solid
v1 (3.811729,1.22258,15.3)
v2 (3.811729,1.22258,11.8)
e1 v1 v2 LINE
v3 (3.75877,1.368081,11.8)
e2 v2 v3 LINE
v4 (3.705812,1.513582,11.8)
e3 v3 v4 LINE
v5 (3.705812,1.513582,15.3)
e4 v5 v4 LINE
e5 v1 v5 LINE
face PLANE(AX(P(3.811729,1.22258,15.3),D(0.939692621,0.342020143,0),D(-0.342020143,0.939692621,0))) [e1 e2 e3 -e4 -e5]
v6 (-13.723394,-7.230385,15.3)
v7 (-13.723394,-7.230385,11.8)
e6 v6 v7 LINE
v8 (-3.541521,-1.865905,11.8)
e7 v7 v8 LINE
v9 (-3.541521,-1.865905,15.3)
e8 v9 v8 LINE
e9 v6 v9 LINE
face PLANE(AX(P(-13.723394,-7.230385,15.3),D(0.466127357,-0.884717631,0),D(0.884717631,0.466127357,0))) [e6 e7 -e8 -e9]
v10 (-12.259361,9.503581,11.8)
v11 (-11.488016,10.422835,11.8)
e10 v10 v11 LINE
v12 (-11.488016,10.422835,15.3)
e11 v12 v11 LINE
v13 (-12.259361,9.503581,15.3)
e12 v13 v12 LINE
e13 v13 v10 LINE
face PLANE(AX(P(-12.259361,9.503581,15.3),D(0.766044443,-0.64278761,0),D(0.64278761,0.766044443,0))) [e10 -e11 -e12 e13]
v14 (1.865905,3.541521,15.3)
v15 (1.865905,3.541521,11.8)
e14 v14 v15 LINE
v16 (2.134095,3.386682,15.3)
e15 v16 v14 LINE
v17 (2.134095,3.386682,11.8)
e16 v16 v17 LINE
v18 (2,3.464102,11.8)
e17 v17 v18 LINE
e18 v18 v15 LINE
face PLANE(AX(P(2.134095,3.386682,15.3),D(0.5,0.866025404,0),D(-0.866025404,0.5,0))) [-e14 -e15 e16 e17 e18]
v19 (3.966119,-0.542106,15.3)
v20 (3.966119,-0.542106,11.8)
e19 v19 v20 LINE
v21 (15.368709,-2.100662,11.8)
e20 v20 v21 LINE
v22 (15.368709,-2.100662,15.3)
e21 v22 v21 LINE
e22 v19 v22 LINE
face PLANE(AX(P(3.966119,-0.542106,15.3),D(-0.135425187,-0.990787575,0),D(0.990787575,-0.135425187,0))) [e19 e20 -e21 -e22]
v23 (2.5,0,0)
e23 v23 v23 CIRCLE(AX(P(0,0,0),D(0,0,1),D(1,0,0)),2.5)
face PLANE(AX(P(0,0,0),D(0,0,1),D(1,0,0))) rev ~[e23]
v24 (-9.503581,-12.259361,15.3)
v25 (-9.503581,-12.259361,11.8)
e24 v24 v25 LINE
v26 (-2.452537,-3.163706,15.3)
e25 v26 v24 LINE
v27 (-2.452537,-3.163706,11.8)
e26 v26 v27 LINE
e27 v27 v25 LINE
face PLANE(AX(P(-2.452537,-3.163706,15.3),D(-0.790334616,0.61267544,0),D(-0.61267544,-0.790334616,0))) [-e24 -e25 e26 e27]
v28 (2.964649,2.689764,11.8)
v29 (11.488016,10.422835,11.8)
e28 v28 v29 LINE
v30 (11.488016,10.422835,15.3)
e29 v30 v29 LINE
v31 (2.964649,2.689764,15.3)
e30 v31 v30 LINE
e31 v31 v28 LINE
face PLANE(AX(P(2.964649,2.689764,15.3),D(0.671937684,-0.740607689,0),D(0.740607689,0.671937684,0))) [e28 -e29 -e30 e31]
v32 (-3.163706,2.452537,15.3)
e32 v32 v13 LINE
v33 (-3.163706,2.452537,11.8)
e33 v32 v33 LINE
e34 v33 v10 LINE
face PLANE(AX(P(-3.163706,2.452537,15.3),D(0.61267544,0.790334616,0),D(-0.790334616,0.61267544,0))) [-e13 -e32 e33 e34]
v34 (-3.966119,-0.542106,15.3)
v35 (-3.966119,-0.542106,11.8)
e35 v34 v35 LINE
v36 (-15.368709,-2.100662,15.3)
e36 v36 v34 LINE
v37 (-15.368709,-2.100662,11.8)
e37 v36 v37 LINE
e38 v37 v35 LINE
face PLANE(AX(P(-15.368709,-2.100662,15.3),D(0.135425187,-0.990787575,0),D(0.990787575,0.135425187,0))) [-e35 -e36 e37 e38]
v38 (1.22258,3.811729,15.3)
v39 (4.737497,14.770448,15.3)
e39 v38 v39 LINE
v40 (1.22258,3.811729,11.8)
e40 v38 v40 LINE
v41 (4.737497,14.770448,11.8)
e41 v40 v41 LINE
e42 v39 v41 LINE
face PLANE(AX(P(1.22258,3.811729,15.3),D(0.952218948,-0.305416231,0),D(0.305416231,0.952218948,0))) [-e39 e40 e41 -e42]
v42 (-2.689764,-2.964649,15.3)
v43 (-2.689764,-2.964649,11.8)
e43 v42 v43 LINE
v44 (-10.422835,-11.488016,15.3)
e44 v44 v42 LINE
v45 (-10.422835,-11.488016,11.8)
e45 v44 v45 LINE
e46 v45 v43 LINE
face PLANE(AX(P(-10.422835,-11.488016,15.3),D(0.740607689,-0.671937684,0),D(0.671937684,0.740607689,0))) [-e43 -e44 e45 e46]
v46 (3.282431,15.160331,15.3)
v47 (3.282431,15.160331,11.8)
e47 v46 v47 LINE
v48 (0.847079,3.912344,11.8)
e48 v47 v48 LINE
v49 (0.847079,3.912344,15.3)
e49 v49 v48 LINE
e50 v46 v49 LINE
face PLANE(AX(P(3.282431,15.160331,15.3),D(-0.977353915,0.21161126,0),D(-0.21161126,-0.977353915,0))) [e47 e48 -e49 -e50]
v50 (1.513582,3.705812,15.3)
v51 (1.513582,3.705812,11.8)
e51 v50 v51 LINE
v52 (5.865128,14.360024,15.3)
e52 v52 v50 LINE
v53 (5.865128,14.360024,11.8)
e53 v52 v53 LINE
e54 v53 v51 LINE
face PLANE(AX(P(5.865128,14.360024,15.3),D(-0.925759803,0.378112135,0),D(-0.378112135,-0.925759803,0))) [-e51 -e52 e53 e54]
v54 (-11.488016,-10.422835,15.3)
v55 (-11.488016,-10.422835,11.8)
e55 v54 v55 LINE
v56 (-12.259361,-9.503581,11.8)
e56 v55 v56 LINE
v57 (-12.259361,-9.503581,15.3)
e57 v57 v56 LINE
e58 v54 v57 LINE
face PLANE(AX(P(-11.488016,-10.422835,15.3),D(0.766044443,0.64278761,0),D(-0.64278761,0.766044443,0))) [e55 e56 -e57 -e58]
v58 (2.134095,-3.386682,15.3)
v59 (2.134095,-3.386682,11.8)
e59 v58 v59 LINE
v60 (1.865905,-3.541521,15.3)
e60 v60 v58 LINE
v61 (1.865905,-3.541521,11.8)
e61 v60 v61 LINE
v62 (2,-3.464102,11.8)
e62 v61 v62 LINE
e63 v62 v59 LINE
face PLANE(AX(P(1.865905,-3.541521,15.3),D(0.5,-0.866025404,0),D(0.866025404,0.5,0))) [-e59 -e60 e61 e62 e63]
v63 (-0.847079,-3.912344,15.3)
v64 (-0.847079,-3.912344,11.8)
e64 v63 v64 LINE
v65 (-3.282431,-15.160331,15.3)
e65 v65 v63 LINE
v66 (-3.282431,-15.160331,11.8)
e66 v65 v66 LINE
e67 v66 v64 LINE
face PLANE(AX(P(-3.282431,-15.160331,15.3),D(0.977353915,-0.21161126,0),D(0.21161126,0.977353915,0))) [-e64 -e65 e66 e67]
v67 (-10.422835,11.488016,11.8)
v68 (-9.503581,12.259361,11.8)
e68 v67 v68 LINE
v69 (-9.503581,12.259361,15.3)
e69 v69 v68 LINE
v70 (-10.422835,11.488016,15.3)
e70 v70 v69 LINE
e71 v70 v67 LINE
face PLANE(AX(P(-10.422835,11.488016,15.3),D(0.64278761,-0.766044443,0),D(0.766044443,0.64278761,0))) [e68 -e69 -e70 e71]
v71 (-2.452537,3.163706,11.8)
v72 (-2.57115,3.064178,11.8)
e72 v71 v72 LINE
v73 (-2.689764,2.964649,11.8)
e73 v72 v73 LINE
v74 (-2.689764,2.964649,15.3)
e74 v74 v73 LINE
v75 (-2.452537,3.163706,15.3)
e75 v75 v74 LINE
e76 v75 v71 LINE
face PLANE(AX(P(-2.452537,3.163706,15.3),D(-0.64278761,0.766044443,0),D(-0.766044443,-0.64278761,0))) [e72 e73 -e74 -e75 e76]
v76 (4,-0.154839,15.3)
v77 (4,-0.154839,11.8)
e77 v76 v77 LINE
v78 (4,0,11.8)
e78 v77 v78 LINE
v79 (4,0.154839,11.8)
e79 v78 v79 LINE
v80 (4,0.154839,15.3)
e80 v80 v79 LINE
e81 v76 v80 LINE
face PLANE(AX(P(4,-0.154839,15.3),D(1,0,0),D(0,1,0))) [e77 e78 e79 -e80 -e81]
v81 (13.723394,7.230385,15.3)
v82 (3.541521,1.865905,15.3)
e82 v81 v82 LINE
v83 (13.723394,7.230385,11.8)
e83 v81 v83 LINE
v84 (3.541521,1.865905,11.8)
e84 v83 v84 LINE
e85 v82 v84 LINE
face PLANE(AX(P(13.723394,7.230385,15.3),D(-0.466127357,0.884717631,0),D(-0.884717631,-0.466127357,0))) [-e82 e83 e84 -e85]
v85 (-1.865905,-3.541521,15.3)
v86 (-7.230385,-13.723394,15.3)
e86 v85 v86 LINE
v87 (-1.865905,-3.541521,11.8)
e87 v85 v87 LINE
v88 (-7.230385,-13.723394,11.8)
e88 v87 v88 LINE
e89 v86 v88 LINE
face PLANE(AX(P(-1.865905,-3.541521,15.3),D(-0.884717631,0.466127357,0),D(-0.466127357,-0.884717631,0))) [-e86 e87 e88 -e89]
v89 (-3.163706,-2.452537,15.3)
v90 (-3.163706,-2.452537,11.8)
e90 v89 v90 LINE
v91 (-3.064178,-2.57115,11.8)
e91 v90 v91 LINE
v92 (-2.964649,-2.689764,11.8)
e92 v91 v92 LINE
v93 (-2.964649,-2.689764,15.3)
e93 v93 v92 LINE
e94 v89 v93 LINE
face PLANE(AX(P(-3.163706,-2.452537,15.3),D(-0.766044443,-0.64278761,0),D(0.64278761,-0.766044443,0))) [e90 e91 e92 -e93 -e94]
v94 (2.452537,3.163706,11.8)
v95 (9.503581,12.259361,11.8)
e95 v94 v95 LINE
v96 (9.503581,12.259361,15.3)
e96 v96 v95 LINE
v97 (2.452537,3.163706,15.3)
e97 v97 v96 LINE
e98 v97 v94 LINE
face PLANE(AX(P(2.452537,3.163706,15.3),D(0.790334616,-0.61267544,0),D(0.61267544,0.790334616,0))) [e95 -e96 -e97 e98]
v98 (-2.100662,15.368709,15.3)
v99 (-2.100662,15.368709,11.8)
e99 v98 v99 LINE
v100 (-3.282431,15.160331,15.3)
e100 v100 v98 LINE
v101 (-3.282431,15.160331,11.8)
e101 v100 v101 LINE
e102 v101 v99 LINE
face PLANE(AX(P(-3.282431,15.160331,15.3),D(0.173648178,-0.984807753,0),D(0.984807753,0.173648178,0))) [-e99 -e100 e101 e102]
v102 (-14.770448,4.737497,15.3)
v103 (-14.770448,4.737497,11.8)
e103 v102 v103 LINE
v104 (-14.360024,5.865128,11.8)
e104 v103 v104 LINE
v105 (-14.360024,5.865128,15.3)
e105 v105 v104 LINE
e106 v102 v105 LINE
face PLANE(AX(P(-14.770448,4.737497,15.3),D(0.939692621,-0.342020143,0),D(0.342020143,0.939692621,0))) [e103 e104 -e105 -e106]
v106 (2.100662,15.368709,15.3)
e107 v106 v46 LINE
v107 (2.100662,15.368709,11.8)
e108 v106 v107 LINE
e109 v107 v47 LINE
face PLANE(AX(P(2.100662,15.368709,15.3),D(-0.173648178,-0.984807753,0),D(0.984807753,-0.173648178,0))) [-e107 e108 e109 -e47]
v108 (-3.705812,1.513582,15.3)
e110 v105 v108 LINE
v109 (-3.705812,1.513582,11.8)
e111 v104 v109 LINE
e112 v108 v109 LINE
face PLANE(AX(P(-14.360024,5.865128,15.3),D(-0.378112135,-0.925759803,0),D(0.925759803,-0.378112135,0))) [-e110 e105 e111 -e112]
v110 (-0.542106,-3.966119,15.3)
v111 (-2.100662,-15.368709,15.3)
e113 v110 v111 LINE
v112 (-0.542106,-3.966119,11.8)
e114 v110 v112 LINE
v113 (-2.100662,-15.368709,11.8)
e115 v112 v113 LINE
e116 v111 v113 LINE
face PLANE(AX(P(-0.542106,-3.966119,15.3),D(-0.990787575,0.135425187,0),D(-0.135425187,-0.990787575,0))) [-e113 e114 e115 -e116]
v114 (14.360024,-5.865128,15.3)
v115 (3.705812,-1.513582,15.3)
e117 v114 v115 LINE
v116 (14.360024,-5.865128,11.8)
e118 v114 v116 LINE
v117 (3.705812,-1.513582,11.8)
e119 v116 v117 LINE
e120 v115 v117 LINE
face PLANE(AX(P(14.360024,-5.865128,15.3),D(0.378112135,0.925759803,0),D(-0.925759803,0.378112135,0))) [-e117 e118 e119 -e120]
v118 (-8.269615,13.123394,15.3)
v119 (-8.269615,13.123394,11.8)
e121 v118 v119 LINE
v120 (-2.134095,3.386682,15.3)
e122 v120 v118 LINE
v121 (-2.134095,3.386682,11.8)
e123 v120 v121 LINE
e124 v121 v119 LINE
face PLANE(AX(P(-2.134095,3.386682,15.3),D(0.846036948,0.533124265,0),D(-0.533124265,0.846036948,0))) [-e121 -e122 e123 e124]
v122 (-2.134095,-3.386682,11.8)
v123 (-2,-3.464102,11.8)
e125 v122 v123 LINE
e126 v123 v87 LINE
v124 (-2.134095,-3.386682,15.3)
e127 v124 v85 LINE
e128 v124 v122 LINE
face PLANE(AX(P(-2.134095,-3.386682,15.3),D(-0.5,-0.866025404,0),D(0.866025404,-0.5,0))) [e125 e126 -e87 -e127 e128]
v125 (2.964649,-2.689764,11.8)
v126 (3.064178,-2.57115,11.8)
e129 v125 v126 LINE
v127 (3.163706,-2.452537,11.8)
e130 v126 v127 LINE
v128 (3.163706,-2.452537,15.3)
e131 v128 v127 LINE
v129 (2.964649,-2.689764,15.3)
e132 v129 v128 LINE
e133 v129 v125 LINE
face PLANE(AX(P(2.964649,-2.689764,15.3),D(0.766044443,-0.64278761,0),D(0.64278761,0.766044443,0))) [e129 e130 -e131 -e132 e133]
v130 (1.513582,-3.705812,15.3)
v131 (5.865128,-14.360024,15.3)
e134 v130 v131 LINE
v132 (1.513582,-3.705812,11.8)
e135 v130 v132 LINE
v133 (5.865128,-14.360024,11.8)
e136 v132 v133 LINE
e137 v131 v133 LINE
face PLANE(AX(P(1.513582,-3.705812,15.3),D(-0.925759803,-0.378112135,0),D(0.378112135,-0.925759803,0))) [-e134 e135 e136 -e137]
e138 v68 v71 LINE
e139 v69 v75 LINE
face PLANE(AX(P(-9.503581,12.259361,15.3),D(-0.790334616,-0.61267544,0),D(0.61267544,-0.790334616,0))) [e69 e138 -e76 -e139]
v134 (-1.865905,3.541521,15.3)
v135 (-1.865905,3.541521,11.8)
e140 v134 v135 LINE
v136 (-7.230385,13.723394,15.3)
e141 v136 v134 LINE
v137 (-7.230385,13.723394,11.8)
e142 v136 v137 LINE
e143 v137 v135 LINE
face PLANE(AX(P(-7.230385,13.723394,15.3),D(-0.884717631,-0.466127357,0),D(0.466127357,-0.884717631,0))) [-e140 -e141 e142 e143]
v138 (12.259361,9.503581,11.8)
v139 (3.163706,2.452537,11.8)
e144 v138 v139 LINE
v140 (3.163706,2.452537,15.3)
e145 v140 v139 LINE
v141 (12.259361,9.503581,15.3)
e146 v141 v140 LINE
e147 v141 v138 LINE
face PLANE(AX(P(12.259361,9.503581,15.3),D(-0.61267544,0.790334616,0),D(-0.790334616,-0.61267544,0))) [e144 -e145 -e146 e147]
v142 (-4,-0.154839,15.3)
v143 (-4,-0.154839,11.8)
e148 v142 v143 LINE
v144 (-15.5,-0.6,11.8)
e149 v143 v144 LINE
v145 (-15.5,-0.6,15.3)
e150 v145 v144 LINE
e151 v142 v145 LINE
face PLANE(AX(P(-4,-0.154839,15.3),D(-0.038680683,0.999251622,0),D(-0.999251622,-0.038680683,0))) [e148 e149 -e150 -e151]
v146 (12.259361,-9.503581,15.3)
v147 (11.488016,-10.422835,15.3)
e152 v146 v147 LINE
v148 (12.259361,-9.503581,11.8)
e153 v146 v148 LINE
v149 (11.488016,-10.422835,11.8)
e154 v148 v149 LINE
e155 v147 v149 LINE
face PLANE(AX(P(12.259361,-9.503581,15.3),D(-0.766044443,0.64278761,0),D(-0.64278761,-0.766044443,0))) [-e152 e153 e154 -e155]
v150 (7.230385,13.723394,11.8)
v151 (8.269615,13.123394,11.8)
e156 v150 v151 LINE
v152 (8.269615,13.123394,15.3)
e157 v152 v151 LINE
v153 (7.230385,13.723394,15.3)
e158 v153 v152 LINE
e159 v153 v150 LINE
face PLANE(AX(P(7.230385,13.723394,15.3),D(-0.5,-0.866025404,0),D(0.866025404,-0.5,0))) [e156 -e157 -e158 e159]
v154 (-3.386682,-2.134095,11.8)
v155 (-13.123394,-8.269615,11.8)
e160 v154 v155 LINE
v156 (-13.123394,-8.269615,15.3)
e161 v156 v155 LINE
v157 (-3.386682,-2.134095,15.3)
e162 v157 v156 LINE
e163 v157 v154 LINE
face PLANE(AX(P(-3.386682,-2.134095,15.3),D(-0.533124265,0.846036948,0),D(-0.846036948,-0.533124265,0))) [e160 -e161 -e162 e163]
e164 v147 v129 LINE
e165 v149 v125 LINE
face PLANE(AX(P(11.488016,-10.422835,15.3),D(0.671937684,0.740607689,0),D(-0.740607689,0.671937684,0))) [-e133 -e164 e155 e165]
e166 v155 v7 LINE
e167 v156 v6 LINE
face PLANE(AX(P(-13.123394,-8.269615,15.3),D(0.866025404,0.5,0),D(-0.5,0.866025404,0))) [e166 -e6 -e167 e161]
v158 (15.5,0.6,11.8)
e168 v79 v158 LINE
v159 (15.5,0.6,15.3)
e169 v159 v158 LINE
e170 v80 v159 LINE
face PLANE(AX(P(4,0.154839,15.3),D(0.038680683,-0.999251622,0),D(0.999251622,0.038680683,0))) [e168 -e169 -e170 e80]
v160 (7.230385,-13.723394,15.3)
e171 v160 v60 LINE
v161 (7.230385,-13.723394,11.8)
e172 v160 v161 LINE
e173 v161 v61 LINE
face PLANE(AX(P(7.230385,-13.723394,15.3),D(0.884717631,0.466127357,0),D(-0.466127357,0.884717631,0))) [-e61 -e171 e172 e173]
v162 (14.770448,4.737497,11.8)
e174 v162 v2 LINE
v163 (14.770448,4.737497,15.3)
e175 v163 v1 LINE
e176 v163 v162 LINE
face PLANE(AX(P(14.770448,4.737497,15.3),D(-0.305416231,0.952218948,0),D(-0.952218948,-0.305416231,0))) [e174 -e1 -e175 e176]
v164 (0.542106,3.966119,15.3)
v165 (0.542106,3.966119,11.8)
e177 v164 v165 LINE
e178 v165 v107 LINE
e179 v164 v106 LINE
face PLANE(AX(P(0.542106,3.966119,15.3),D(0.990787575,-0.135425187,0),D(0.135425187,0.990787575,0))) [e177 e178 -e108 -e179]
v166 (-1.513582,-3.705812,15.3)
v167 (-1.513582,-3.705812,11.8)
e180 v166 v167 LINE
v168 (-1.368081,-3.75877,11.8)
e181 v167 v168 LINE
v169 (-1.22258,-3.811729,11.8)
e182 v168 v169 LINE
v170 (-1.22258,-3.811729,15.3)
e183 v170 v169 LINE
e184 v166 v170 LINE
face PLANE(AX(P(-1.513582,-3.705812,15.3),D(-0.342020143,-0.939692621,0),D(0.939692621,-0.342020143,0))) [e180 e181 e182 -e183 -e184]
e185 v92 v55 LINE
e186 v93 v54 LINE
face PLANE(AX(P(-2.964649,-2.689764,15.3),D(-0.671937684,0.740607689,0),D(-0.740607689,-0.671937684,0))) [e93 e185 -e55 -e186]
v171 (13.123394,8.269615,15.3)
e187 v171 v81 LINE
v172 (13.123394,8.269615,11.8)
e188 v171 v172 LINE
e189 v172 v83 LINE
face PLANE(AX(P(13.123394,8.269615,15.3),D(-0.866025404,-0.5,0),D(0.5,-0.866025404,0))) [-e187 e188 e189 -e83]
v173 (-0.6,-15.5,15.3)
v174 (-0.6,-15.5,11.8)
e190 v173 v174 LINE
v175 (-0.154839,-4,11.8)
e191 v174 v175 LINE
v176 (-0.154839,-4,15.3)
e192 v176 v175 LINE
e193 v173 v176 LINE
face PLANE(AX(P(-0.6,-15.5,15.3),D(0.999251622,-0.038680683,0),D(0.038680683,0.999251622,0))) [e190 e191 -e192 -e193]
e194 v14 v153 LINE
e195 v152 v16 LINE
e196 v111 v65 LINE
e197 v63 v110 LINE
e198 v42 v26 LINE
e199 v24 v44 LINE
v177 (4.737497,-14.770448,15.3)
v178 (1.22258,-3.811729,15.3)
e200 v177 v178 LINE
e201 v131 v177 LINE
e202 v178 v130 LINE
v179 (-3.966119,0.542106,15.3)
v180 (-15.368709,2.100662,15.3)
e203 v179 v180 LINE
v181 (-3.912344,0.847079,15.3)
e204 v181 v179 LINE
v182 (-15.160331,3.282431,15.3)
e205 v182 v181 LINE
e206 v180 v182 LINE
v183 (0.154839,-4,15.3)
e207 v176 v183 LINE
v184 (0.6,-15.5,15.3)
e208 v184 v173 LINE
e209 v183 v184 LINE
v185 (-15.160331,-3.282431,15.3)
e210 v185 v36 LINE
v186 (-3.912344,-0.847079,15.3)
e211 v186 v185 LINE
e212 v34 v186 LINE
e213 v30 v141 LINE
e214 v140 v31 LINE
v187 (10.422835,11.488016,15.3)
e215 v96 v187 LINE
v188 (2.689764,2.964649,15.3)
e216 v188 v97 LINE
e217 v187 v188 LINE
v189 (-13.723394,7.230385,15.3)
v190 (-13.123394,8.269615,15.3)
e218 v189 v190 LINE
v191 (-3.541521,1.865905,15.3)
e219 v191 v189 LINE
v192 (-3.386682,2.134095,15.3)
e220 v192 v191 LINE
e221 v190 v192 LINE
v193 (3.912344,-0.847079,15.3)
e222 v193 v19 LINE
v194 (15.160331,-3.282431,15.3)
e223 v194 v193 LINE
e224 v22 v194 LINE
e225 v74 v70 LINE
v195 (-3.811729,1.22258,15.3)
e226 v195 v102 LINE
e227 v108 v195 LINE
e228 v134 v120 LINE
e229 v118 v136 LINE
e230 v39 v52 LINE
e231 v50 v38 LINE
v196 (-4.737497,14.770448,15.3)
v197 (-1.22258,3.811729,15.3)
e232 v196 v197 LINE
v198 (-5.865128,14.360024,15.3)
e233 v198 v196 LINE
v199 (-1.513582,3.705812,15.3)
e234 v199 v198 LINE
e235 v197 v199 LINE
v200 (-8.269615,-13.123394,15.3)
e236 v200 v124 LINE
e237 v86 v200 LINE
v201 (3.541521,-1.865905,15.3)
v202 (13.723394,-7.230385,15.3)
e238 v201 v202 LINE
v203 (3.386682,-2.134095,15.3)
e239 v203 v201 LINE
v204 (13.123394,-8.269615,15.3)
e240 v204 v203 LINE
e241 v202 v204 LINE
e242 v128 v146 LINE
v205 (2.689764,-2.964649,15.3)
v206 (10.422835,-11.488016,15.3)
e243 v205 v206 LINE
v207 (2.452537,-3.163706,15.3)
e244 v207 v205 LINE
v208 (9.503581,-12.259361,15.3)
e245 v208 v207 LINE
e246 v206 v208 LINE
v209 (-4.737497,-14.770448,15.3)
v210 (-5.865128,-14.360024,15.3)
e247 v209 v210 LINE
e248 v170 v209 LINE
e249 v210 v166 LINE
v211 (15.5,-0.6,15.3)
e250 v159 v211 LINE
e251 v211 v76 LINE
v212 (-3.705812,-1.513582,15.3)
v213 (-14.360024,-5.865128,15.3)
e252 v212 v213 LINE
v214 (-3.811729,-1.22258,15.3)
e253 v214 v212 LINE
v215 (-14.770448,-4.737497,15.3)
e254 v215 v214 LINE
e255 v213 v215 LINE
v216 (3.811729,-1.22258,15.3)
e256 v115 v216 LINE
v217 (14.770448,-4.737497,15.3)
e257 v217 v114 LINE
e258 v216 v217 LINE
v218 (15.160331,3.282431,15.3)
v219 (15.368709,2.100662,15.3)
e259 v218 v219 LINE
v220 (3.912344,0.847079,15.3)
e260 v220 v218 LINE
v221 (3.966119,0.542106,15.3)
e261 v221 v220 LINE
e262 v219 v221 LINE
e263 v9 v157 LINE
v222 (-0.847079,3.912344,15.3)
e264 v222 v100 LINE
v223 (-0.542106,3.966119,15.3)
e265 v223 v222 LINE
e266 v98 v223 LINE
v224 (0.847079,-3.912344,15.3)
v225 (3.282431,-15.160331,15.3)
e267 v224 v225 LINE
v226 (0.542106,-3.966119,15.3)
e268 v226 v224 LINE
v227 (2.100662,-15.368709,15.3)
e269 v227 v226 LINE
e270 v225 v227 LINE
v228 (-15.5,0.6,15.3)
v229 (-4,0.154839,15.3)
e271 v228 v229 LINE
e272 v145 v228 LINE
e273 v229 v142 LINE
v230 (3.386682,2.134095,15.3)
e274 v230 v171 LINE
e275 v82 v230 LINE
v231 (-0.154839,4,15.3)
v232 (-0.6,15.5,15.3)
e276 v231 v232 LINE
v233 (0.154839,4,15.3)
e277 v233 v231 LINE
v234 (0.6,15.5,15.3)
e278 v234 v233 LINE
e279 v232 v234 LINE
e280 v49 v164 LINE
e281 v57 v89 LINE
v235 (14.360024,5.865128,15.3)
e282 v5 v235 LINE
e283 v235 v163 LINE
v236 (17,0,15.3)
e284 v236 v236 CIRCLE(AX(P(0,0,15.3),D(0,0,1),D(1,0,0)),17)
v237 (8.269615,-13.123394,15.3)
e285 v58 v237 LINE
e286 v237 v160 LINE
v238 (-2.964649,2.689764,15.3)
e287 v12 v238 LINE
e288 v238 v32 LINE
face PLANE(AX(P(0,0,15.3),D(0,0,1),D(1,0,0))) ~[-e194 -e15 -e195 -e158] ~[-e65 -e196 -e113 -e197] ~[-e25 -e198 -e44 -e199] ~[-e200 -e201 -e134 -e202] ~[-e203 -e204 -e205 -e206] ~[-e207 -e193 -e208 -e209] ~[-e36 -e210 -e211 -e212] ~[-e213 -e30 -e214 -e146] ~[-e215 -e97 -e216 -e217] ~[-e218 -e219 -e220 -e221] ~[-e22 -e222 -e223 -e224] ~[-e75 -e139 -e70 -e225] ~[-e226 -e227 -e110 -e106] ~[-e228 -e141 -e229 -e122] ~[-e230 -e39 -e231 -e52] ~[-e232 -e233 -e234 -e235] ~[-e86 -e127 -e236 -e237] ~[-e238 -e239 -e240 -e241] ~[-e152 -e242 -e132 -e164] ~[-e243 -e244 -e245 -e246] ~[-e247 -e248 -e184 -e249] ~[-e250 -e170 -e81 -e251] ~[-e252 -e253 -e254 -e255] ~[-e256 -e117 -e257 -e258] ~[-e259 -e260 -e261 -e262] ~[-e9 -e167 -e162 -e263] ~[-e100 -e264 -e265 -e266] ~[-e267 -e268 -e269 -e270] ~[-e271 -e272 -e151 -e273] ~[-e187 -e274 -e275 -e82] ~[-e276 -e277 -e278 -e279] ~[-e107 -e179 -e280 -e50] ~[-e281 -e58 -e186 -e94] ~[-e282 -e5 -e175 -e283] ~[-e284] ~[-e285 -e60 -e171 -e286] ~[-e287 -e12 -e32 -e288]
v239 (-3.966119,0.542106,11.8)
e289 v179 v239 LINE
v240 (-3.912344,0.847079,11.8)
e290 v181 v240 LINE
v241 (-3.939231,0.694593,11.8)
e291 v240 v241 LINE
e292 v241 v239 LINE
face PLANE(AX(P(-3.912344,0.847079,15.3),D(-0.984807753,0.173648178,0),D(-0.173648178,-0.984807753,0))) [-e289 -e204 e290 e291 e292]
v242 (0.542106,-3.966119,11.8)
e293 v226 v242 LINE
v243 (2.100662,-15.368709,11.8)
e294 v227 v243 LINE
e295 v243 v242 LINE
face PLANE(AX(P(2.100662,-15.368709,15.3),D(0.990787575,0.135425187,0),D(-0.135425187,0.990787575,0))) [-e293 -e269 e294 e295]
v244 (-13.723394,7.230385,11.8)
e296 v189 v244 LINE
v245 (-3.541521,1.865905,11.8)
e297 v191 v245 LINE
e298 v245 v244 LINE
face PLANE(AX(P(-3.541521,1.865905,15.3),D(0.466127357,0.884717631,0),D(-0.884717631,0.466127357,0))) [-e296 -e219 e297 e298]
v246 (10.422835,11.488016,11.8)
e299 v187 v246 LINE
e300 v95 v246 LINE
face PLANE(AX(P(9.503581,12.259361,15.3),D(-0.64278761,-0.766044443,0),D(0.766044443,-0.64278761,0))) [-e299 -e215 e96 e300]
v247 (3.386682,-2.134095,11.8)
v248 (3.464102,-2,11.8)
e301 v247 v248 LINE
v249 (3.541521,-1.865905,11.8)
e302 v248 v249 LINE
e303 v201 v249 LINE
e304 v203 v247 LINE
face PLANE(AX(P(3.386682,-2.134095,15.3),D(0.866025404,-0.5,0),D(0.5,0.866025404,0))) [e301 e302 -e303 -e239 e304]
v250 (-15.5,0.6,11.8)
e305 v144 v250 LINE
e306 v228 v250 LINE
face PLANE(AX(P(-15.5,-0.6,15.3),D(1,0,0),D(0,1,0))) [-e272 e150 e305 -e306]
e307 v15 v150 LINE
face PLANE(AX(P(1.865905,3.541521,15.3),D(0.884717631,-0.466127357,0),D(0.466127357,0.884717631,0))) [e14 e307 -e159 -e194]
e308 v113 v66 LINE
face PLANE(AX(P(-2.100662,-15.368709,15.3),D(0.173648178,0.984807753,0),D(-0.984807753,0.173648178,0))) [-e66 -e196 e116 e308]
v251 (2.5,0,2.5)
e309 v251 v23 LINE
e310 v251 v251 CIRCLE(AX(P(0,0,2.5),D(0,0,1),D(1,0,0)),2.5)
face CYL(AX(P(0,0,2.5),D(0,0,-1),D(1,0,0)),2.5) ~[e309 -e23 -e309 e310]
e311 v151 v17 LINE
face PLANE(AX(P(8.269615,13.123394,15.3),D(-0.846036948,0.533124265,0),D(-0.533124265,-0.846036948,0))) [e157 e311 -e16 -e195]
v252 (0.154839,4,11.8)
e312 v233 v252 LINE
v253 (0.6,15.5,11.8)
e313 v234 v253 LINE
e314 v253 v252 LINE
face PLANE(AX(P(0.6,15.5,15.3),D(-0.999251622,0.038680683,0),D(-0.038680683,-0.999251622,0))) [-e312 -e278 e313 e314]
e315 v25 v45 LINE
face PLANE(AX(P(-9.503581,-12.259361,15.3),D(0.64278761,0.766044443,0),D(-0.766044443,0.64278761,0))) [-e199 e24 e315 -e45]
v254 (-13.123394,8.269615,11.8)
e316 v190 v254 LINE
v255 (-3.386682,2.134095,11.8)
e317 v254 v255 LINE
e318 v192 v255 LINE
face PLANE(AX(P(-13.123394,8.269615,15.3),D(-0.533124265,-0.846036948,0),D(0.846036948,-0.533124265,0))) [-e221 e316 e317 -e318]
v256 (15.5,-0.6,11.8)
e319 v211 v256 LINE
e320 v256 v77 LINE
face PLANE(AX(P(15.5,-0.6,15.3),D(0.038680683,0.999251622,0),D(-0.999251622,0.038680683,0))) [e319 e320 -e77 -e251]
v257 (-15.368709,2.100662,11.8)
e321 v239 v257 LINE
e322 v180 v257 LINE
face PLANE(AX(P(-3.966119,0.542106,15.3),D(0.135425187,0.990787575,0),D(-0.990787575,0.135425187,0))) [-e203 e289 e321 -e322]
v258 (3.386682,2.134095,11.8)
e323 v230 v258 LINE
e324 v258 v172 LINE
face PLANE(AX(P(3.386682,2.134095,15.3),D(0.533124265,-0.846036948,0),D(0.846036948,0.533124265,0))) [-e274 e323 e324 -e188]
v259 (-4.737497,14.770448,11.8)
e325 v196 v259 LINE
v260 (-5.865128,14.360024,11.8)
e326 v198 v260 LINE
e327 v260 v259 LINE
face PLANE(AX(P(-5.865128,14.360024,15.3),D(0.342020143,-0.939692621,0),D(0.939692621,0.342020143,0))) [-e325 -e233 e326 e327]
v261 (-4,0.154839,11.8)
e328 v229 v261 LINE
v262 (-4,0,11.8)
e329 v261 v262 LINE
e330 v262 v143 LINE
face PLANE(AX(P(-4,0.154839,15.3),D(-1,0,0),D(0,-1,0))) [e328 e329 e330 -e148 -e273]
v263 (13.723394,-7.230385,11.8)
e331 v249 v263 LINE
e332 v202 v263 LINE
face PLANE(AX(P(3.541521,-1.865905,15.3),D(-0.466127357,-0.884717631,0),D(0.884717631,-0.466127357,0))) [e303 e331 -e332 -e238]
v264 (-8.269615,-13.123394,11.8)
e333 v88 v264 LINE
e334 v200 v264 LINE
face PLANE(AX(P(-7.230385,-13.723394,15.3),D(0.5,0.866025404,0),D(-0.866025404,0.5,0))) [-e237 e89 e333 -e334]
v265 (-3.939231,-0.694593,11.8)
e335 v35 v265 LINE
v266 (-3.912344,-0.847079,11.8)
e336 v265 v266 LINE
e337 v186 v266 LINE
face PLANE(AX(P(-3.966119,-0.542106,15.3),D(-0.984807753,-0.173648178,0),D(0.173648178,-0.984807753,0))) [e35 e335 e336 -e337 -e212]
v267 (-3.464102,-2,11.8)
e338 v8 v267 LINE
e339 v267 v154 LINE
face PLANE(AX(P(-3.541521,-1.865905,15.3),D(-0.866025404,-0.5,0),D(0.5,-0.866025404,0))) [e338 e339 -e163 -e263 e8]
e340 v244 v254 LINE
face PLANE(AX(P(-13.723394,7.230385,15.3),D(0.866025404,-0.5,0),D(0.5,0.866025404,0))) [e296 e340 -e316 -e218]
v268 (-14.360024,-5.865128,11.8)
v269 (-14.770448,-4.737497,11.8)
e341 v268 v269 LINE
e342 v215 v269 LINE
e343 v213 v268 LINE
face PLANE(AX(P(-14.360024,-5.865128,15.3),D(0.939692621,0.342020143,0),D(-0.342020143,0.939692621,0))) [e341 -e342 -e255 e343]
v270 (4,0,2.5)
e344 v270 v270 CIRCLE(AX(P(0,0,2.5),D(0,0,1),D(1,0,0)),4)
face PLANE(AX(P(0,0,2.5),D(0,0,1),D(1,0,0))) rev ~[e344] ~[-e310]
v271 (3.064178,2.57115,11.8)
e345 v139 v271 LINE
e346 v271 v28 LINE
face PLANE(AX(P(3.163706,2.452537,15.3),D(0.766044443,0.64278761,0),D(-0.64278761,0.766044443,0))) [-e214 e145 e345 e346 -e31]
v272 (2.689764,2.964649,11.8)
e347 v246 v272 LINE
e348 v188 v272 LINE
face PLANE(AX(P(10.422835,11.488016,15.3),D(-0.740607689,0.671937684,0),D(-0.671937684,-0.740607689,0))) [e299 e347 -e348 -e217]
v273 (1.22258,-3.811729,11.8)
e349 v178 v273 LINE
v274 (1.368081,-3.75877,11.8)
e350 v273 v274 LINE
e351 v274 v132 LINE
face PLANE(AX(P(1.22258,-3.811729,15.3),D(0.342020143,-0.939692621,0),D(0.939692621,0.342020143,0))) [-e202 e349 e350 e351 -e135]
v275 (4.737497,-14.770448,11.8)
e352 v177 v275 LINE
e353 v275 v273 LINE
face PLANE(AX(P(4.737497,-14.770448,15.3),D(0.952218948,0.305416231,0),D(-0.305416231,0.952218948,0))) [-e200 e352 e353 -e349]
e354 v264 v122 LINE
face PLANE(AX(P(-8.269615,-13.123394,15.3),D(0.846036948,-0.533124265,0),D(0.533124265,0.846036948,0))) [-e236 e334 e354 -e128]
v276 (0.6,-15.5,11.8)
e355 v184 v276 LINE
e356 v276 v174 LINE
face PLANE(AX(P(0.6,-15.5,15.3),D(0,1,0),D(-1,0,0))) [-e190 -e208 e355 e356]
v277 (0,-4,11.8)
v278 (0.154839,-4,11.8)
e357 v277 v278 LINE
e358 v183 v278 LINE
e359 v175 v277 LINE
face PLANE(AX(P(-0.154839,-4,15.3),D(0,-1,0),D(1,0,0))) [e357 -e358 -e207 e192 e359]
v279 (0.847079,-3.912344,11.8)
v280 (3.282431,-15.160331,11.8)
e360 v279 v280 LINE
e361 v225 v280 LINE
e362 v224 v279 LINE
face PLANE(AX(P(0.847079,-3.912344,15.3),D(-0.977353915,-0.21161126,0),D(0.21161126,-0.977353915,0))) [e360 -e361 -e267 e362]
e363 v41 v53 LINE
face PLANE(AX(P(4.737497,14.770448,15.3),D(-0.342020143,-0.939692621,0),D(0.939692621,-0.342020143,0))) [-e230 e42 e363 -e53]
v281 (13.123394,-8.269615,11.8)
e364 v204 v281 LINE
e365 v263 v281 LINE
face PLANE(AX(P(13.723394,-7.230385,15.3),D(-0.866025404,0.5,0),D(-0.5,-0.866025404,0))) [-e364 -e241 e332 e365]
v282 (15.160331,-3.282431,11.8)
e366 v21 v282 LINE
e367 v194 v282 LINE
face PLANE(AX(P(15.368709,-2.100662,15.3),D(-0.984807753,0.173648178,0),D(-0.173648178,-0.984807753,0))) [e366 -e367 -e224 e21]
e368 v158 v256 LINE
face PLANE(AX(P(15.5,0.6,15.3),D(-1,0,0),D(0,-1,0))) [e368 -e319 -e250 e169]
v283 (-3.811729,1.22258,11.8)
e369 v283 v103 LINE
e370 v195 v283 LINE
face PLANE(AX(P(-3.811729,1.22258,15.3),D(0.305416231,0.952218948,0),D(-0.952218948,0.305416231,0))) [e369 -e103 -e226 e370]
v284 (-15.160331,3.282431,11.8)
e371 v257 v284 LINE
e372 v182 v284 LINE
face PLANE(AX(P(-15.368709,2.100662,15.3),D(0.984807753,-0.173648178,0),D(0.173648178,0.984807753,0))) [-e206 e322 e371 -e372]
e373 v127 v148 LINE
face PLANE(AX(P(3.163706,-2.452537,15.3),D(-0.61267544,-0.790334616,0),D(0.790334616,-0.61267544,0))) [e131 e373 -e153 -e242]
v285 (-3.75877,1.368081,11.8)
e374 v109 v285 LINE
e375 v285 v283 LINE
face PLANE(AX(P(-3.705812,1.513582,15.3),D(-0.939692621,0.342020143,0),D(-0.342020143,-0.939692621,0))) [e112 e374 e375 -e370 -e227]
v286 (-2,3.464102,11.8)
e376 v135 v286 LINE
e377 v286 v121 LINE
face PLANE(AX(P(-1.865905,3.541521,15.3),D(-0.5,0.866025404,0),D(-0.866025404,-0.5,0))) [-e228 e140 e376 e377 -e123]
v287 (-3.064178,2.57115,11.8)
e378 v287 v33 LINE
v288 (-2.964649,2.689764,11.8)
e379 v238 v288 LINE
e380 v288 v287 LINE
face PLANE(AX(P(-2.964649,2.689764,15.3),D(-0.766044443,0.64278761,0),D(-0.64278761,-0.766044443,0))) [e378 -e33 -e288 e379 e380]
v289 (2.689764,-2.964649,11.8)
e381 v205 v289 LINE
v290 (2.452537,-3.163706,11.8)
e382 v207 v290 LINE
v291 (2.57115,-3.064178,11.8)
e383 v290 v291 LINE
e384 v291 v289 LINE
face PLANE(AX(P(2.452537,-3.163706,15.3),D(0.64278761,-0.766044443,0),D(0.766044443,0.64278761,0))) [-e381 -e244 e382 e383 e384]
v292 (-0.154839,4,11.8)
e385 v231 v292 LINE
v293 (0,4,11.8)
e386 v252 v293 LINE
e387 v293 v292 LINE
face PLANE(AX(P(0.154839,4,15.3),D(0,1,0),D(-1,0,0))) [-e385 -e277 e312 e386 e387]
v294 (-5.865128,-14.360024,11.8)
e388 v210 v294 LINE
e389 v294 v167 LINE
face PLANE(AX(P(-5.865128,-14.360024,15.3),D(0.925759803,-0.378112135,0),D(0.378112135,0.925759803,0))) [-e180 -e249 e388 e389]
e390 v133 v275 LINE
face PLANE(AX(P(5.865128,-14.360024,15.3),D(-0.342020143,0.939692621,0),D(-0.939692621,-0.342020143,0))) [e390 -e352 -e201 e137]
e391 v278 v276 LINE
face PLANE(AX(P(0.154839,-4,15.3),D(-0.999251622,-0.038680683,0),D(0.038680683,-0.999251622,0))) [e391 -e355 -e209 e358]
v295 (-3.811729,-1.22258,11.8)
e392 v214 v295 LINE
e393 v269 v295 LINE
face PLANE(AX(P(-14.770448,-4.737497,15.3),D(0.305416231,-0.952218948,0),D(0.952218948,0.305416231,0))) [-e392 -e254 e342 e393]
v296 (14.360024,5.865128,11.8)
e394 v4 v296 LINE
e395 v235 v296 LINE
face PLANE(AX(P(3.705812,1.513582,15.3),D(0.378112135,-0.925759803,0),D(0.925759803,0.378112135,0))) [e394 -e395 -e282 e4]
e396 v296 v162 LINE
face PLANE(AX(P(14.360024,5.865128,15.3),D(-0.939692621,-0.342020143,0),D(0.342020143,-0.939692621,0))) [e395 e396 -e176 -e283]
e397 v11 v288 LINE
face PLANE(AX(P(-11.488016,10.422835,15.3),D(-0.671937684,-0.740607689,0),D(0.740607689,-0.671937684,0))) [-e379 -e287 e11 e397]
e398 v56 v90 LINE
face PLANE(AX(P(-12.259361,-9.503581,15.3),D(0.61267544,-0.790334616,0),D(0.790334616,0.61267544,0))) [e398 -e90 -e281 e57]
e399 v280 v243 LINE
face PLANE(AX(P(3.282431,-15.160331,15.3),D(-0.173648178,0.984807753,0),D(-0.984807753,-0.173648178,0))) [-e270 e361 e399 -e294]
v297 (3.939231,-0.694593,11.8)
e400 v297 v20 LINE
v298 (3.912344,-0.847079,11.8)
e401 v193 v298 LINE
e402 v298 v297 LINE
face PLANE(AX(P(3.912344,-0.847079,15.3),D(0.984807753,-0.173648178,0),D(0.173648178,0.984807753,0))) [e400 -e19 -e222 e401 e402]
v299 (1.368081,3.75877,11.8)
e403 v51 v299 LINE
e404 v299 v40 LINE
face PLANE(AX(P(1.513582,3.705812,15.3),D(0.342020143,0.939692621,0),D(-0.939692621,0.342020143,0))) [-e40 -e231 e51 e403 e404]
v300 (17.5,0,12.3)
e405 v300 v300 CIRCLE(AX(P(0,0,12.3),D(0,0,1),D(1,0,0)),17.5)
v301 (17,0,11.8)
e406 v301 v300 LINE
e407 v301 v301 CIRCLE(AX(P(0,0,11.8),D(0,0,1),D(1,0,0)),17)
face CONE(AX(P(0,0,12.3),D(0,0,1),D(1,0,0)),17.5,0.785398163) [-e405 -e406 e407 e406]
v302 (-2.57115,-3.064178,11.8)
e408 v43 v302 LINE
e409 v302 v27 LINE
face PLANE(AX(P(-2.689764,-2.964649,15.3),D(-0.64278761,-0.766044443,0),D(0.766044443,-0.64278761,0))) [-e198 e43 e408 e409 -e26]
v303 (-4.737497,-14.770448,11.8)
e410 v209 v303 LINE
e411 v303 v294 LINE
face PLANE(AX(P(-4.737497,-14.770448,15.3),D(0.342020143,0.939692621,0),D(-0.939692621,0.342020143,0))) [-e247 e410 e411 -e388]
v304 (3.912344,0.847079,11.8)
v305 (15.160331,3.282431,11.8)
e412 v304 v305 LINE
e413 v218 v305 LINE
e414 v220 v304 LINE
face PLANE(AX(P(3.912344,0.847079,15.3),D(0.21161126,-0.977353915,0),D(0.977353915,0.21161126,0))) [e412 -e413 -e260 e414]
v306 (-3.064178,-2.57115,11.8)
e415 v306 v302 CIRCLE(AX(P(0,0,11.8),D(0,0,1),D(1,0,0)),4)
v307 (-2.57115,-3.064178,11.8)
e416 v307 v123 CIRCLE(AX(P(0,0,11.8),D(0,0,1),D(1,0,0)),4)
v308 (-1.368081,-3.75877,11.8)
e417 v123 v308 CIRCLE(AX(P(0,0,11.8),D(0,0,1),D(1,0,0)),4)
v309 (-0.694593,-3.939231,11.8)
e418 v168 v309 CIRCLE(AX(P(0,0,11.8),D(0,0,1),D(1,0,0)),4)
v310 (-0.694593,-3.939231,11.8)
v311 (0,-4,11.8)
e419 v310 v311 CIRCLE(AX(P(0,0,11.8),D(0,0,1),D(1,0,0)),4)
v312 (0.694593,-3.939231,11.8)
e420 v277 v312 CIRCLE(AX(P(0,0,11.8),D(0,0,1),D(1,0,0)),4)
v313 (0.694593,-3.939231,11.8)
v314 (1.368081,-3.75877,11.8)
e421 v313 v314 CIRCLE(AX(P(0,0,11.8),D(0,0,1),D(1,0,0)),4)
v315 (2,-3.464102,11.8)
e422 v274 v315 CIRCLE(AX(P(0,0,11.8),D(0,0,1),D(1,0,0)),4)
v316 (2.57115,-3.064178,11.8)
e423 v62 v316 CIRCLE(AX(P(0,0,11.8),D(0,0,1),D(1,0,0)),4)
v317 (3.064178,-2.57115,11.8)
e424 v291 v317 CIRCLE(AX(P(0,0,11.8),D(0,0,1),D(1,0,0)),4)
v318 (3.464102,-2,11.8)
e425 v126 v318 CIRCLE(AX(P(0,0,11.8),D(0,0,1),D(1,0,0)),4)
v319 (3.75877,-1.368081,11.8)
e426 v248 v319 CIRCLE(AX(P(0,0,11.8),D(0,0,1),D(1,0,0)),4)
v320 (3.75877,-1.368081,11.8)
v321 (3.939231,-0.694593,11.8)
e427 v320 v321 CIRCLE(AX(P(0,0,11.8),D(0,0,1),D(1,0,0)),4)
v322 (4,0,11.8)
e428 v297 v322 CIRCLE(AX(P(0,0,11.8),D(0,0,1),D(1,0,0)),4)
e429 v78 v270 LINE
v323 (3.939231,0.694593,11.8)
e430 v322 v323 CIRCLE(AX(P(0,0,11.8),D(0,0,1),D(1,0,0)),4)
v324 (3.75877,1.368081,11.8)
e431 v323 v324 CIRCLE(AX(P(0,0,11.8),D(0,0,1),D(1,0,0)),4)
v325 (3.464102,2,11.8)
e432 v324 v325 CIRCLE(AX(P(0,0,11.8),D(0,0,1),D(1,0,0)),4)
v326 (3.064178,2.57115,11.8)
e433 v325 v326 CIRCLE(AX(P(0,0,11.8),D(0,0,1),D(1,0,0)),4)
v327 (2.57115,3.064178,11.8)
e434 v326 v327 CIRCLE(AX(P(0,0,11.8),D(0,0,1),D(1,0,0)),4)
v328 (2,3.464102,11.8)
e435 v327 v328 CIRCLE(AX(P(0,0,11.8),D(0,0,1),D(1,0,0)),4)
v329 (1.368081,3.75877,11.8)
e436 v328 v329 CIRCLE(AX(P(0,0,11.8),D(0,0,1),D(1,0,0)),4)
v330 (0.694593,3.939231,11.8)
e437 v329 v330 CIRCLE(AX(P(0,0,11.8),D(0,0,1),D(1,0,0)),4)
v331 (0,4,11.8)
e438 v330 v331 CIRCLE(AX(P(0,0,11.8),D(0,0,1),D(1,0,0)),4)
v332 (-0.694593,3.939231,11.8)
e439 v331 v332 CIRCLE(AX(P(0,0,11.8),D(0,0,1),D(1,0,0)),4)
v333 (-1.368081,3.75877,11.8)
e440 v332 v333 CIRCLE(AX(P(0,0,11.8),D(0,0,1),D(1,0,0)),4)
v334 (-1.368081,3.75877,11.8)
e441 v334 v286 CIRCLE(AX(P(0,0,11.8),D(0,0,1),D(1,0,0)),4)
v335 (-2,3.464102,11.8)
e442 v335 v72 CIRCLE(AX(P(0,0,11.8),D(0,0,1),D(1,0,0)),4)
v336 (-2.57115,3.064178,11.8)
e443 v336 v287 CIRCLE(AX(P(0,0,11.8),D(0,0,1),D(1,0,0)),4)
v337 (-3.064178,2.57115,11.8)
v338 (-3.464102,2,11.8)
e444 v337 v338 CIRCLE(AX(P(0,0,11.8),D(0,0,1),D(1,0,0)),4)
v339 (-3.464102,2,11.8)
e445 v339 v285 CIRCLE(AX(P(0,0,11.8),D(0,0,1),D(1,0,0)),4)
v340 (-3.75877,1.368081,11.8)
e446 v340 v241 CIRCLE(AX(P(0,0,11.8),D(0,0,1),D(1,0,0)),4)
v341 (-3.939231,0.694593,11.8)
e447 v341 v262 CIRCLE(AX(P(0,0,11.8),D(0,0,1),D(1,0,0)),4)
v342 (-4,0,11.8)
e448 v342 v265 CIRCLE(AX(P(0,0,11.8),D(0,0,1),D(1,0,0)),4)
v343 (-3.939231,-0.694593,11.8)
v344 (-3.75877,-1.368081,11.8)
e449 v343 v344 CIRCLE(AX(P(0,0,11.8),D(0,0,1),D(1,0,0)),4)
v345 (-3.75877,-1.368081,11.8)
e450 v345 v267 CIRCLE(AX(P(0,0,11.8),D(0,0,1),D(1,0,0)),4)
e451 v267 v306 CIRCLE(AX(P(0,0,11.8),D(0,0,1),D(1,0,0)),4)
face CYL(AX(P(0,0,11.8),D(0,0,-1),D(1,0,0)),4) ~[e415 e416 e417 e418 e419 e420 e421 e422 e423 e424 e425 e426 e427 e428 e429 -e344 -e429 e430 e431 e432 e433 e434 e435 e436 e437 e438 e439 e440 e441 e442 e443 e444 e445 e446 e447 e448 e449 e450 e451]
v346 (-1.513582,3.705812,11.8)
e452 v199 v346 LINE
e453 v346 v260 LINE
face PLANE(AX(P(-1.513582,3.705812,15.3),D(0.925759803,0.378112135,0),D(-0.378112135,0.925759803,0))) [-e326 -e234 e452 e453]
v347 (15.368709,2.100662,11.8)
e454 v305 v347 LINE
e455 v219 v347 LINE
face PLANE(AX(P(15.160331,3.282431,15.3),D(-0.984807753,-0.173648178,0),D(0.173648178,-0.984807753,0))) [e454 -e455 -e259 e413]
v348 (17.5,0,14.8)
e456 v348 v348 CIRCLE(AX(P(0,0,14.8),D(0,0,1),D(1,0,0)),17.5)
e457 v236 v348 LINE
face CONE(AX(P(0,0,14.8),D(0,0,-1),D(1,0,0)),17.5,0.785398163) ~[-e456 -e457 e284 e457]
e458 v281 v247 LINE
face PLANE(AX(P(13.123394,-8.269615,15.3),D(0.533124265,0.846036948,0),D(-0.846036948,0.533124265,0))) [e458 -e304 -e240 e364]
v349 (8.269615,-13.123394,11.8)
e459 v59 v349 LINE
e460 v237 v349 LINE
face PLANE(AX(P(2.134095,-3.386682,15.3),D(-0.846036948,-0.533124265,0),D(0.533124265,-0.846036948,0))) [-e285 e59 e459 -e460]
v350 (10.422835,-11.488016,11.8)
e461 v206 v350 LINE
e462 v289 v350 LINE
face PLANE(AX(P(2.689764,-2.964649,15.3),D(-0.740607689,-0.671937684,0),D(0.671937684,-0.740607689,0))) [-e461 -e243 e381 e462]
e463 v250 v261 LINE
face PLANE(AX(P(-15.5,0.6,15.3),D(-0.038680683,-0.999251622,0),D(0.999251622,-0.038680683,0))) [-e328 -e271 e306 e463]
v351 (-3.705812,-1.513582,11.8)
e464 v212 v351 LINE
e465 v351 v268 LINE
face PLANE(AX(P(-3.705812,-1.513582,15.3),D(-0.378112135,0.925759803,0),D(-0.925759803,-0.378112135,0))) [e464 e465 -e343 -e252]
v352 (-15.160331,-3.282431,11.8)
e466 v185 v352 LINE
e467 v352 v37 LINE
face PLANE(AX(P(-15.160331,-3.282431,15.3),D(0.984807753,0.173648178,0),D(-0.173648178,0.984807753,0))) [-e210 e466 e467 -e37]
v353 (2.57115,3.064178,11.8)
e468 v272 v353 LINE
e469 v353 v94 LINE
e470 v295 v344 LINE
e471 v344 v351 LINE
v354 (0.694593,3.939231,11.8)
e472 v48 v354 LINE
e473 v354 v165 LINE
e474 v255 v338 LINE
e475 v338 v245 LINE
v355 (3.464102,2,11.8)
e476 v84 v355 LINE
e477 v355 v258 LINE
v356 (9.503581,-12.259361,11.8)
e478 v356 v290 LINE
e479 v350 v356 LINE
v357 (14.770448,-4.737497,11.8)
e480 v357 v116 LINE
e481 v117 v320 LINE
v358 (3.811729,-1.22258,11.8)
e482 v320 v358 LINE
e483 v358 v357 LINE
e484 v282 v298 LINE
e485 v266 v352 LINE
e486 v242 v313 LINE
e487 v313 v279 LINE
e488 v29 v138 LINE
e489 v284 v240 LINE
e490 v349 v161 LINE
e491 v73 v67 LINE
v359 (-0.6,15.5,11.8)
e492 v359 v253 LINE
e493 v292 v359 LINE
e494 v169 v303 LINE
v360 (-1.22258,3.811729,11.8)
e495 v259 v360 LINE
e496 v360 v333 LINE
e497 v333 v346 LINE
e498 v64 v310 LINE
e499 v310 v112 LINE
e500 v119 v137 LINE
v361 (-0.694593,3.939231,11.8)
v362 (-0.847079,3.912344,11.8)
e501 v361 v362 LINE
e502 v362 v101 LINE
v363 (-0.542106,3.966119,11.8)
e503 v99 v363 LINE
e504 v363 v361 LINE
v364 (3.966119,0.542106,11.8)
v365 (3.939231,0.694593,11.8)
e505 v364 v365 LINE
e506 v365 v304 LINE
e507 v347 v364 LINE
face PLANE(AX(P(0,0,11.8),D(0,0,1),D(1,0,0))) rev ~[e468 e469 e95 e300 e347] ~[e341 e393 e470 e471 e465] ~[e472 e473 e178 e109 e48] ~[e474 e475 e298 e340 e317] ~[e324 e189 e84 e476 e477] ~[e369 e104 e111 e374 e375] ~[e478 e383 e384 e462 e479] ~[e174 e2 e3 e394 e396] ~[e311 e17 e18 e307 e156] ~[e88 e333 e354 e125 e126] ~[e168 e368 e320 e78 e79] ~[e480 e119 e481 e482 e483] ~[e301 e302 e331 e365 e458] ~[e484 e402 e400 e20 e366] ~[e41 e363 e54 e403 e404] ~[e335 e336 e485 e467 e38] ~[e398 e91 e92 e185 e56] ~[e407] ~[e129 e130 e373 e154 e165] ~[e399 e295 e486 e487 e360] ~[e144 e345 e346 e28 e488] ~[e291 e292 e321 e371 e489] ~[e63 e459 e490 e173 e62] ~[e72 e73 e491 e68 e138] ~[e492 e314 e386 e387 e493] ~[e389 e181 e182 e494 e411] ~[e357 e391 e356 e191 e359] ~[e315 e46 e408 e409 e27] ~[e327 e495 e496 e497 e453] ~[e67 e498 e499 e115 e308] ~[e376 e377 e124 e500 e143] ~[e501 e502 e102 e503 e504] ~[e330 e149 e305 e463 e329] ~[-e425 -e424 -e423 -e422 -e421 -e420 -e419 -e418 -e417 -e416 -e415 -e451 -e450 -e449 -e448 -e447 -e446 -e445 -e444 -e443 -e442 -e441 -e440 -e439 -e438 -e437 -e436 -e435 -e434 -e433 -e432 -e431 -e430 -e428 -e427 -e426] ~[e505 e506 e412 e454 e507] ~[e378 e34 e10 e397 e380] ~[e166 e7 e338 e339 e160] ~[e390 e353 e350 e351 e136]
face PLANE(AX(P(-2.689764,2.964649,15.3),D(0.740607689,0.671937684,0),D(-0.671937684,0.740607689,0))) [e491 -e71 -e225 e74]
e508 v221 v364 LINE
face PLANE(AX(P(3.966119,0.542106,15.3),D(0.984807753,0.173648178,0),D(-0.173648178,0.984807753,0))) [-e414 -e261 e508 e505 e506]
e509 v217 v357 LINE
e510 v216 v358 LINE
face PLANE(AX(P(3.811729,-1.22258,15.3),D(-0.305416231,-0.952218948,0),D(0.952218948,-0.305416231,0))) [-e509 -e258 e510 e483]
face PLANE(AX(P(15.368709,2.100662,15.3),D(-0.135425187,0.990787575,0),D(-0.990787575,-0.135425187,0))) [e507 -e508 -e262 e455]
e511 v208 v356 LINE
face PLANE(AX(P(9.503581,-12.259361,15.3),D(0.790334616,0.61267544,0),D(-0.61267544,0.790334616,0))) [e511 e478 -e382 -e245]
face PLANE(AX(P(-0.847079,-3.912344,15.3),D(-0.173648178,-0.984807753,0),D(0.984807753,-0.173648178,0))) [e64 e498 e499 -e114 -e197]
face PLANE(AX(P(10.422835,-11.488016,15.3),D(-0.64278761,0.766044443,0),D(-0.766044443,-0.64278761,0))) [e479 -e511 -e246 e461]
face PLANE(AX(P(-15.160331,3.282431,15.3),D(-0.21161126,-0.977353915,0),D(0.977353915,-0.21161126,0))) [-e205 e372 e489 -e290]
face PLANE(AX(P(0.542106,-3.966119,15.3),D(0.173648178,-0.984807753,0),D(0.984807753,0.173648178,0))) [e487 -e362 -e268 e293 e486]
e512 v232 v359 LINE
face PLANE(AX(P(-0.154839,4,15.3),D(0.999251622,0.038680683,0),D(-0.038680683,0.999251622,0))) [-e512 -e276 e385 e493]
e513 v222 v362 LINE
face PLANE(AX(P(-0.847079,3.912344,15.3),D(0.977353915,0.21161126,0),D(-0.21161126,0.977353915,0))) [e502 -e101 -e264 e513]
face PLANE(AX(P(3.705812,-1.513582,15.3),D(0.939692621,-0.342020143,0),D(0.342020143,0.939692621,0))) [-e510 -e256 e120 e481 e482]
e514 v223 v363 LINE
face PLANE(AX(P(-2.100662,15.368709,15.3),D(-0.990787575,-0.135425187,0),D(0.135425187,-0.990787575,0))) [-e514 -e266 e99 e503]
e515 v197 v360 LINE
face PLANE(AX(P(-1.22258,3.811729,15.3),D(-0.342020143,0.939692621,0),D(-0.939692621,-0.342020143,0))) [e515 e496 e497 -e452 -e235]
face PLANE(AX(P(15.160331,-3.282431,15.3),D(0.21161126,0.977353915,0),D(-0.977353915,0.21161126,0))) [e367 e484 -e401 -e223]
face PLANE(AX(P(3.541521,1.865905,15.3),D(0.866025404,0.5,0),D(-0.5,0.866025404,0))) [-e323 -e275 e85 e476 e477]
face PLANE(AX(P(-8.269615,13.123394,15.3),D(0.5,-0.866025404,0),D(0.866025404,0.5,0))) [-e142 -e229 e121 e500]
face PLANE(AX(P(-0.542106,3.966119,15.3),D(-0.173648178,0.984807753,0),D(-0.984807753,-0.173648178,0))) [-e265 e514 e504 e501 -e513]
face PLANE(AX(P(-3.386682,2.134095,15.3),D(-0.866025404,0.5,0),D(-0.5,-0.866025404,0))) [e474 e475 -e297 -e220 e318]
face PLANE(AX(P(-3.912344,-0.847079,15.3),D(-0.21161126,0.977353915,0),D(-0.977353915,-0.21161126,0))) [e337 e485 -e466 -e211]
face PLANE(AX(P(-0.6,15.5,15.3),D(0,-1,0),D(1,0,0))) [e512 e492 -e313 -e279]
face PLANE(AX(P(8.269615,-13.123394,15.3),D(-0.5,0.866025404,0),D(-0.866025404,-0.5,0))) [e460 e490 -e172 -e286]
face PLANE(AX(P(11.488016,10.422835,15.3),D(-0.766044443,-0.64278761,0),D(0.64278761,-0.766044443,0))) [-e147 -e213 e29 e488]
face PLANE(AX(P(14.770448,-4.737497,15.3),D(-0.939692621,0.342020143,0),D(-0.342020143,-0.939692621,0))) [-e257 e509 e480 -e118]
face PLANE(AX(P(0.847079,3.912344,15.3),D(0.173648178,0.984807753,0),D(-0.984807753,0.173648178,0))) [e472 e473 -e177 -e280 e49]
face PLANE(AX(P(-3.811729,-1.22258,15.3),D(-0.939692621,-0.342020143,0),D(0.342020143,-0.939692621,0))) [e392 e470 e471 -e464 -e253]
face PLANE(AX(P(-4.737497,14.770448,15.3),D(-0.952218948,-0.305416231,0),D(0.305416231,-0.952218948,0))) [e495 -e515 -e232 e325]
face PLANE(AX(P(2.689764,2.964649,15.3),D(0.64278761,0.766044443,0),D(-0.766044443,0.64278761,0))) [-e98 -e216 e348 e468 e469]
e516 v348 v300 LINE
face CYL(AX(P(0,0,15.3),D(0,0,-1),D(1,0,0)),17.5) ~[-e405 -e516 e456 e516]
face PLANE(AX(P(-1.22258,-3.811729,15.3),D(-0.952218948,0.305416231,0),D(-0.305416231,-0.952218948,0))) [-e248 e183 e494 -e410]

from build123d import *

# Parameters (mm, degrees)
POCKET_DEPTH       = 118.917408
POLARPATTERN_COUNT = 36
CHAMFER_SIZE       = 0.5


with BuildPart() as part:
    # Sketch → Revolution (revolve)
    with BuildSketch(Plane.XZ):
        Polygon((0, 0), (0, 15.3), (17.5, 15.3), (17.5, 11.8), (4, 11.8), (4, 2.5), (2.5, 2.5), (2.5, 0), align=None)
    revolve(axis=Axis((0, 0, 0), (0, 0, 1)))

    # Sketch001 → Pocket (cut, through all)
    with BuildSketch(Plane.XY.offset(15.3)):
        Polygon((-0.154839, 4), (-0.6, 15.5), (0.6, 15.5), (0.154839, 4), align=None)
    pocket = extrude(amount=-POCKET_DEPTH, mode=Mode.SUBTRACT)

    # PolarPattern: Pocket ×36 about axis
    polarpattern_axis = Axis((0, 0, 15.3), (0, 0, 1))
    for i in range(1, POLARPATTERN_COUNT):
        add(pocket.rotate(polarpattern_axis, i * 360 / POLARPATTERN_COUNT), mode=Mode.SUBTRACT)

    # Chamfer
    chamfer_edges = [part.edges().sort_by_distance(p)[0] for p in [
        (-17.5, 0, 11.8),
        (-17.5, 0, 15.3),
    ]]
    chamfer(chamfer_edges, length=CHAMFER_SIZE)


solid = part.part
